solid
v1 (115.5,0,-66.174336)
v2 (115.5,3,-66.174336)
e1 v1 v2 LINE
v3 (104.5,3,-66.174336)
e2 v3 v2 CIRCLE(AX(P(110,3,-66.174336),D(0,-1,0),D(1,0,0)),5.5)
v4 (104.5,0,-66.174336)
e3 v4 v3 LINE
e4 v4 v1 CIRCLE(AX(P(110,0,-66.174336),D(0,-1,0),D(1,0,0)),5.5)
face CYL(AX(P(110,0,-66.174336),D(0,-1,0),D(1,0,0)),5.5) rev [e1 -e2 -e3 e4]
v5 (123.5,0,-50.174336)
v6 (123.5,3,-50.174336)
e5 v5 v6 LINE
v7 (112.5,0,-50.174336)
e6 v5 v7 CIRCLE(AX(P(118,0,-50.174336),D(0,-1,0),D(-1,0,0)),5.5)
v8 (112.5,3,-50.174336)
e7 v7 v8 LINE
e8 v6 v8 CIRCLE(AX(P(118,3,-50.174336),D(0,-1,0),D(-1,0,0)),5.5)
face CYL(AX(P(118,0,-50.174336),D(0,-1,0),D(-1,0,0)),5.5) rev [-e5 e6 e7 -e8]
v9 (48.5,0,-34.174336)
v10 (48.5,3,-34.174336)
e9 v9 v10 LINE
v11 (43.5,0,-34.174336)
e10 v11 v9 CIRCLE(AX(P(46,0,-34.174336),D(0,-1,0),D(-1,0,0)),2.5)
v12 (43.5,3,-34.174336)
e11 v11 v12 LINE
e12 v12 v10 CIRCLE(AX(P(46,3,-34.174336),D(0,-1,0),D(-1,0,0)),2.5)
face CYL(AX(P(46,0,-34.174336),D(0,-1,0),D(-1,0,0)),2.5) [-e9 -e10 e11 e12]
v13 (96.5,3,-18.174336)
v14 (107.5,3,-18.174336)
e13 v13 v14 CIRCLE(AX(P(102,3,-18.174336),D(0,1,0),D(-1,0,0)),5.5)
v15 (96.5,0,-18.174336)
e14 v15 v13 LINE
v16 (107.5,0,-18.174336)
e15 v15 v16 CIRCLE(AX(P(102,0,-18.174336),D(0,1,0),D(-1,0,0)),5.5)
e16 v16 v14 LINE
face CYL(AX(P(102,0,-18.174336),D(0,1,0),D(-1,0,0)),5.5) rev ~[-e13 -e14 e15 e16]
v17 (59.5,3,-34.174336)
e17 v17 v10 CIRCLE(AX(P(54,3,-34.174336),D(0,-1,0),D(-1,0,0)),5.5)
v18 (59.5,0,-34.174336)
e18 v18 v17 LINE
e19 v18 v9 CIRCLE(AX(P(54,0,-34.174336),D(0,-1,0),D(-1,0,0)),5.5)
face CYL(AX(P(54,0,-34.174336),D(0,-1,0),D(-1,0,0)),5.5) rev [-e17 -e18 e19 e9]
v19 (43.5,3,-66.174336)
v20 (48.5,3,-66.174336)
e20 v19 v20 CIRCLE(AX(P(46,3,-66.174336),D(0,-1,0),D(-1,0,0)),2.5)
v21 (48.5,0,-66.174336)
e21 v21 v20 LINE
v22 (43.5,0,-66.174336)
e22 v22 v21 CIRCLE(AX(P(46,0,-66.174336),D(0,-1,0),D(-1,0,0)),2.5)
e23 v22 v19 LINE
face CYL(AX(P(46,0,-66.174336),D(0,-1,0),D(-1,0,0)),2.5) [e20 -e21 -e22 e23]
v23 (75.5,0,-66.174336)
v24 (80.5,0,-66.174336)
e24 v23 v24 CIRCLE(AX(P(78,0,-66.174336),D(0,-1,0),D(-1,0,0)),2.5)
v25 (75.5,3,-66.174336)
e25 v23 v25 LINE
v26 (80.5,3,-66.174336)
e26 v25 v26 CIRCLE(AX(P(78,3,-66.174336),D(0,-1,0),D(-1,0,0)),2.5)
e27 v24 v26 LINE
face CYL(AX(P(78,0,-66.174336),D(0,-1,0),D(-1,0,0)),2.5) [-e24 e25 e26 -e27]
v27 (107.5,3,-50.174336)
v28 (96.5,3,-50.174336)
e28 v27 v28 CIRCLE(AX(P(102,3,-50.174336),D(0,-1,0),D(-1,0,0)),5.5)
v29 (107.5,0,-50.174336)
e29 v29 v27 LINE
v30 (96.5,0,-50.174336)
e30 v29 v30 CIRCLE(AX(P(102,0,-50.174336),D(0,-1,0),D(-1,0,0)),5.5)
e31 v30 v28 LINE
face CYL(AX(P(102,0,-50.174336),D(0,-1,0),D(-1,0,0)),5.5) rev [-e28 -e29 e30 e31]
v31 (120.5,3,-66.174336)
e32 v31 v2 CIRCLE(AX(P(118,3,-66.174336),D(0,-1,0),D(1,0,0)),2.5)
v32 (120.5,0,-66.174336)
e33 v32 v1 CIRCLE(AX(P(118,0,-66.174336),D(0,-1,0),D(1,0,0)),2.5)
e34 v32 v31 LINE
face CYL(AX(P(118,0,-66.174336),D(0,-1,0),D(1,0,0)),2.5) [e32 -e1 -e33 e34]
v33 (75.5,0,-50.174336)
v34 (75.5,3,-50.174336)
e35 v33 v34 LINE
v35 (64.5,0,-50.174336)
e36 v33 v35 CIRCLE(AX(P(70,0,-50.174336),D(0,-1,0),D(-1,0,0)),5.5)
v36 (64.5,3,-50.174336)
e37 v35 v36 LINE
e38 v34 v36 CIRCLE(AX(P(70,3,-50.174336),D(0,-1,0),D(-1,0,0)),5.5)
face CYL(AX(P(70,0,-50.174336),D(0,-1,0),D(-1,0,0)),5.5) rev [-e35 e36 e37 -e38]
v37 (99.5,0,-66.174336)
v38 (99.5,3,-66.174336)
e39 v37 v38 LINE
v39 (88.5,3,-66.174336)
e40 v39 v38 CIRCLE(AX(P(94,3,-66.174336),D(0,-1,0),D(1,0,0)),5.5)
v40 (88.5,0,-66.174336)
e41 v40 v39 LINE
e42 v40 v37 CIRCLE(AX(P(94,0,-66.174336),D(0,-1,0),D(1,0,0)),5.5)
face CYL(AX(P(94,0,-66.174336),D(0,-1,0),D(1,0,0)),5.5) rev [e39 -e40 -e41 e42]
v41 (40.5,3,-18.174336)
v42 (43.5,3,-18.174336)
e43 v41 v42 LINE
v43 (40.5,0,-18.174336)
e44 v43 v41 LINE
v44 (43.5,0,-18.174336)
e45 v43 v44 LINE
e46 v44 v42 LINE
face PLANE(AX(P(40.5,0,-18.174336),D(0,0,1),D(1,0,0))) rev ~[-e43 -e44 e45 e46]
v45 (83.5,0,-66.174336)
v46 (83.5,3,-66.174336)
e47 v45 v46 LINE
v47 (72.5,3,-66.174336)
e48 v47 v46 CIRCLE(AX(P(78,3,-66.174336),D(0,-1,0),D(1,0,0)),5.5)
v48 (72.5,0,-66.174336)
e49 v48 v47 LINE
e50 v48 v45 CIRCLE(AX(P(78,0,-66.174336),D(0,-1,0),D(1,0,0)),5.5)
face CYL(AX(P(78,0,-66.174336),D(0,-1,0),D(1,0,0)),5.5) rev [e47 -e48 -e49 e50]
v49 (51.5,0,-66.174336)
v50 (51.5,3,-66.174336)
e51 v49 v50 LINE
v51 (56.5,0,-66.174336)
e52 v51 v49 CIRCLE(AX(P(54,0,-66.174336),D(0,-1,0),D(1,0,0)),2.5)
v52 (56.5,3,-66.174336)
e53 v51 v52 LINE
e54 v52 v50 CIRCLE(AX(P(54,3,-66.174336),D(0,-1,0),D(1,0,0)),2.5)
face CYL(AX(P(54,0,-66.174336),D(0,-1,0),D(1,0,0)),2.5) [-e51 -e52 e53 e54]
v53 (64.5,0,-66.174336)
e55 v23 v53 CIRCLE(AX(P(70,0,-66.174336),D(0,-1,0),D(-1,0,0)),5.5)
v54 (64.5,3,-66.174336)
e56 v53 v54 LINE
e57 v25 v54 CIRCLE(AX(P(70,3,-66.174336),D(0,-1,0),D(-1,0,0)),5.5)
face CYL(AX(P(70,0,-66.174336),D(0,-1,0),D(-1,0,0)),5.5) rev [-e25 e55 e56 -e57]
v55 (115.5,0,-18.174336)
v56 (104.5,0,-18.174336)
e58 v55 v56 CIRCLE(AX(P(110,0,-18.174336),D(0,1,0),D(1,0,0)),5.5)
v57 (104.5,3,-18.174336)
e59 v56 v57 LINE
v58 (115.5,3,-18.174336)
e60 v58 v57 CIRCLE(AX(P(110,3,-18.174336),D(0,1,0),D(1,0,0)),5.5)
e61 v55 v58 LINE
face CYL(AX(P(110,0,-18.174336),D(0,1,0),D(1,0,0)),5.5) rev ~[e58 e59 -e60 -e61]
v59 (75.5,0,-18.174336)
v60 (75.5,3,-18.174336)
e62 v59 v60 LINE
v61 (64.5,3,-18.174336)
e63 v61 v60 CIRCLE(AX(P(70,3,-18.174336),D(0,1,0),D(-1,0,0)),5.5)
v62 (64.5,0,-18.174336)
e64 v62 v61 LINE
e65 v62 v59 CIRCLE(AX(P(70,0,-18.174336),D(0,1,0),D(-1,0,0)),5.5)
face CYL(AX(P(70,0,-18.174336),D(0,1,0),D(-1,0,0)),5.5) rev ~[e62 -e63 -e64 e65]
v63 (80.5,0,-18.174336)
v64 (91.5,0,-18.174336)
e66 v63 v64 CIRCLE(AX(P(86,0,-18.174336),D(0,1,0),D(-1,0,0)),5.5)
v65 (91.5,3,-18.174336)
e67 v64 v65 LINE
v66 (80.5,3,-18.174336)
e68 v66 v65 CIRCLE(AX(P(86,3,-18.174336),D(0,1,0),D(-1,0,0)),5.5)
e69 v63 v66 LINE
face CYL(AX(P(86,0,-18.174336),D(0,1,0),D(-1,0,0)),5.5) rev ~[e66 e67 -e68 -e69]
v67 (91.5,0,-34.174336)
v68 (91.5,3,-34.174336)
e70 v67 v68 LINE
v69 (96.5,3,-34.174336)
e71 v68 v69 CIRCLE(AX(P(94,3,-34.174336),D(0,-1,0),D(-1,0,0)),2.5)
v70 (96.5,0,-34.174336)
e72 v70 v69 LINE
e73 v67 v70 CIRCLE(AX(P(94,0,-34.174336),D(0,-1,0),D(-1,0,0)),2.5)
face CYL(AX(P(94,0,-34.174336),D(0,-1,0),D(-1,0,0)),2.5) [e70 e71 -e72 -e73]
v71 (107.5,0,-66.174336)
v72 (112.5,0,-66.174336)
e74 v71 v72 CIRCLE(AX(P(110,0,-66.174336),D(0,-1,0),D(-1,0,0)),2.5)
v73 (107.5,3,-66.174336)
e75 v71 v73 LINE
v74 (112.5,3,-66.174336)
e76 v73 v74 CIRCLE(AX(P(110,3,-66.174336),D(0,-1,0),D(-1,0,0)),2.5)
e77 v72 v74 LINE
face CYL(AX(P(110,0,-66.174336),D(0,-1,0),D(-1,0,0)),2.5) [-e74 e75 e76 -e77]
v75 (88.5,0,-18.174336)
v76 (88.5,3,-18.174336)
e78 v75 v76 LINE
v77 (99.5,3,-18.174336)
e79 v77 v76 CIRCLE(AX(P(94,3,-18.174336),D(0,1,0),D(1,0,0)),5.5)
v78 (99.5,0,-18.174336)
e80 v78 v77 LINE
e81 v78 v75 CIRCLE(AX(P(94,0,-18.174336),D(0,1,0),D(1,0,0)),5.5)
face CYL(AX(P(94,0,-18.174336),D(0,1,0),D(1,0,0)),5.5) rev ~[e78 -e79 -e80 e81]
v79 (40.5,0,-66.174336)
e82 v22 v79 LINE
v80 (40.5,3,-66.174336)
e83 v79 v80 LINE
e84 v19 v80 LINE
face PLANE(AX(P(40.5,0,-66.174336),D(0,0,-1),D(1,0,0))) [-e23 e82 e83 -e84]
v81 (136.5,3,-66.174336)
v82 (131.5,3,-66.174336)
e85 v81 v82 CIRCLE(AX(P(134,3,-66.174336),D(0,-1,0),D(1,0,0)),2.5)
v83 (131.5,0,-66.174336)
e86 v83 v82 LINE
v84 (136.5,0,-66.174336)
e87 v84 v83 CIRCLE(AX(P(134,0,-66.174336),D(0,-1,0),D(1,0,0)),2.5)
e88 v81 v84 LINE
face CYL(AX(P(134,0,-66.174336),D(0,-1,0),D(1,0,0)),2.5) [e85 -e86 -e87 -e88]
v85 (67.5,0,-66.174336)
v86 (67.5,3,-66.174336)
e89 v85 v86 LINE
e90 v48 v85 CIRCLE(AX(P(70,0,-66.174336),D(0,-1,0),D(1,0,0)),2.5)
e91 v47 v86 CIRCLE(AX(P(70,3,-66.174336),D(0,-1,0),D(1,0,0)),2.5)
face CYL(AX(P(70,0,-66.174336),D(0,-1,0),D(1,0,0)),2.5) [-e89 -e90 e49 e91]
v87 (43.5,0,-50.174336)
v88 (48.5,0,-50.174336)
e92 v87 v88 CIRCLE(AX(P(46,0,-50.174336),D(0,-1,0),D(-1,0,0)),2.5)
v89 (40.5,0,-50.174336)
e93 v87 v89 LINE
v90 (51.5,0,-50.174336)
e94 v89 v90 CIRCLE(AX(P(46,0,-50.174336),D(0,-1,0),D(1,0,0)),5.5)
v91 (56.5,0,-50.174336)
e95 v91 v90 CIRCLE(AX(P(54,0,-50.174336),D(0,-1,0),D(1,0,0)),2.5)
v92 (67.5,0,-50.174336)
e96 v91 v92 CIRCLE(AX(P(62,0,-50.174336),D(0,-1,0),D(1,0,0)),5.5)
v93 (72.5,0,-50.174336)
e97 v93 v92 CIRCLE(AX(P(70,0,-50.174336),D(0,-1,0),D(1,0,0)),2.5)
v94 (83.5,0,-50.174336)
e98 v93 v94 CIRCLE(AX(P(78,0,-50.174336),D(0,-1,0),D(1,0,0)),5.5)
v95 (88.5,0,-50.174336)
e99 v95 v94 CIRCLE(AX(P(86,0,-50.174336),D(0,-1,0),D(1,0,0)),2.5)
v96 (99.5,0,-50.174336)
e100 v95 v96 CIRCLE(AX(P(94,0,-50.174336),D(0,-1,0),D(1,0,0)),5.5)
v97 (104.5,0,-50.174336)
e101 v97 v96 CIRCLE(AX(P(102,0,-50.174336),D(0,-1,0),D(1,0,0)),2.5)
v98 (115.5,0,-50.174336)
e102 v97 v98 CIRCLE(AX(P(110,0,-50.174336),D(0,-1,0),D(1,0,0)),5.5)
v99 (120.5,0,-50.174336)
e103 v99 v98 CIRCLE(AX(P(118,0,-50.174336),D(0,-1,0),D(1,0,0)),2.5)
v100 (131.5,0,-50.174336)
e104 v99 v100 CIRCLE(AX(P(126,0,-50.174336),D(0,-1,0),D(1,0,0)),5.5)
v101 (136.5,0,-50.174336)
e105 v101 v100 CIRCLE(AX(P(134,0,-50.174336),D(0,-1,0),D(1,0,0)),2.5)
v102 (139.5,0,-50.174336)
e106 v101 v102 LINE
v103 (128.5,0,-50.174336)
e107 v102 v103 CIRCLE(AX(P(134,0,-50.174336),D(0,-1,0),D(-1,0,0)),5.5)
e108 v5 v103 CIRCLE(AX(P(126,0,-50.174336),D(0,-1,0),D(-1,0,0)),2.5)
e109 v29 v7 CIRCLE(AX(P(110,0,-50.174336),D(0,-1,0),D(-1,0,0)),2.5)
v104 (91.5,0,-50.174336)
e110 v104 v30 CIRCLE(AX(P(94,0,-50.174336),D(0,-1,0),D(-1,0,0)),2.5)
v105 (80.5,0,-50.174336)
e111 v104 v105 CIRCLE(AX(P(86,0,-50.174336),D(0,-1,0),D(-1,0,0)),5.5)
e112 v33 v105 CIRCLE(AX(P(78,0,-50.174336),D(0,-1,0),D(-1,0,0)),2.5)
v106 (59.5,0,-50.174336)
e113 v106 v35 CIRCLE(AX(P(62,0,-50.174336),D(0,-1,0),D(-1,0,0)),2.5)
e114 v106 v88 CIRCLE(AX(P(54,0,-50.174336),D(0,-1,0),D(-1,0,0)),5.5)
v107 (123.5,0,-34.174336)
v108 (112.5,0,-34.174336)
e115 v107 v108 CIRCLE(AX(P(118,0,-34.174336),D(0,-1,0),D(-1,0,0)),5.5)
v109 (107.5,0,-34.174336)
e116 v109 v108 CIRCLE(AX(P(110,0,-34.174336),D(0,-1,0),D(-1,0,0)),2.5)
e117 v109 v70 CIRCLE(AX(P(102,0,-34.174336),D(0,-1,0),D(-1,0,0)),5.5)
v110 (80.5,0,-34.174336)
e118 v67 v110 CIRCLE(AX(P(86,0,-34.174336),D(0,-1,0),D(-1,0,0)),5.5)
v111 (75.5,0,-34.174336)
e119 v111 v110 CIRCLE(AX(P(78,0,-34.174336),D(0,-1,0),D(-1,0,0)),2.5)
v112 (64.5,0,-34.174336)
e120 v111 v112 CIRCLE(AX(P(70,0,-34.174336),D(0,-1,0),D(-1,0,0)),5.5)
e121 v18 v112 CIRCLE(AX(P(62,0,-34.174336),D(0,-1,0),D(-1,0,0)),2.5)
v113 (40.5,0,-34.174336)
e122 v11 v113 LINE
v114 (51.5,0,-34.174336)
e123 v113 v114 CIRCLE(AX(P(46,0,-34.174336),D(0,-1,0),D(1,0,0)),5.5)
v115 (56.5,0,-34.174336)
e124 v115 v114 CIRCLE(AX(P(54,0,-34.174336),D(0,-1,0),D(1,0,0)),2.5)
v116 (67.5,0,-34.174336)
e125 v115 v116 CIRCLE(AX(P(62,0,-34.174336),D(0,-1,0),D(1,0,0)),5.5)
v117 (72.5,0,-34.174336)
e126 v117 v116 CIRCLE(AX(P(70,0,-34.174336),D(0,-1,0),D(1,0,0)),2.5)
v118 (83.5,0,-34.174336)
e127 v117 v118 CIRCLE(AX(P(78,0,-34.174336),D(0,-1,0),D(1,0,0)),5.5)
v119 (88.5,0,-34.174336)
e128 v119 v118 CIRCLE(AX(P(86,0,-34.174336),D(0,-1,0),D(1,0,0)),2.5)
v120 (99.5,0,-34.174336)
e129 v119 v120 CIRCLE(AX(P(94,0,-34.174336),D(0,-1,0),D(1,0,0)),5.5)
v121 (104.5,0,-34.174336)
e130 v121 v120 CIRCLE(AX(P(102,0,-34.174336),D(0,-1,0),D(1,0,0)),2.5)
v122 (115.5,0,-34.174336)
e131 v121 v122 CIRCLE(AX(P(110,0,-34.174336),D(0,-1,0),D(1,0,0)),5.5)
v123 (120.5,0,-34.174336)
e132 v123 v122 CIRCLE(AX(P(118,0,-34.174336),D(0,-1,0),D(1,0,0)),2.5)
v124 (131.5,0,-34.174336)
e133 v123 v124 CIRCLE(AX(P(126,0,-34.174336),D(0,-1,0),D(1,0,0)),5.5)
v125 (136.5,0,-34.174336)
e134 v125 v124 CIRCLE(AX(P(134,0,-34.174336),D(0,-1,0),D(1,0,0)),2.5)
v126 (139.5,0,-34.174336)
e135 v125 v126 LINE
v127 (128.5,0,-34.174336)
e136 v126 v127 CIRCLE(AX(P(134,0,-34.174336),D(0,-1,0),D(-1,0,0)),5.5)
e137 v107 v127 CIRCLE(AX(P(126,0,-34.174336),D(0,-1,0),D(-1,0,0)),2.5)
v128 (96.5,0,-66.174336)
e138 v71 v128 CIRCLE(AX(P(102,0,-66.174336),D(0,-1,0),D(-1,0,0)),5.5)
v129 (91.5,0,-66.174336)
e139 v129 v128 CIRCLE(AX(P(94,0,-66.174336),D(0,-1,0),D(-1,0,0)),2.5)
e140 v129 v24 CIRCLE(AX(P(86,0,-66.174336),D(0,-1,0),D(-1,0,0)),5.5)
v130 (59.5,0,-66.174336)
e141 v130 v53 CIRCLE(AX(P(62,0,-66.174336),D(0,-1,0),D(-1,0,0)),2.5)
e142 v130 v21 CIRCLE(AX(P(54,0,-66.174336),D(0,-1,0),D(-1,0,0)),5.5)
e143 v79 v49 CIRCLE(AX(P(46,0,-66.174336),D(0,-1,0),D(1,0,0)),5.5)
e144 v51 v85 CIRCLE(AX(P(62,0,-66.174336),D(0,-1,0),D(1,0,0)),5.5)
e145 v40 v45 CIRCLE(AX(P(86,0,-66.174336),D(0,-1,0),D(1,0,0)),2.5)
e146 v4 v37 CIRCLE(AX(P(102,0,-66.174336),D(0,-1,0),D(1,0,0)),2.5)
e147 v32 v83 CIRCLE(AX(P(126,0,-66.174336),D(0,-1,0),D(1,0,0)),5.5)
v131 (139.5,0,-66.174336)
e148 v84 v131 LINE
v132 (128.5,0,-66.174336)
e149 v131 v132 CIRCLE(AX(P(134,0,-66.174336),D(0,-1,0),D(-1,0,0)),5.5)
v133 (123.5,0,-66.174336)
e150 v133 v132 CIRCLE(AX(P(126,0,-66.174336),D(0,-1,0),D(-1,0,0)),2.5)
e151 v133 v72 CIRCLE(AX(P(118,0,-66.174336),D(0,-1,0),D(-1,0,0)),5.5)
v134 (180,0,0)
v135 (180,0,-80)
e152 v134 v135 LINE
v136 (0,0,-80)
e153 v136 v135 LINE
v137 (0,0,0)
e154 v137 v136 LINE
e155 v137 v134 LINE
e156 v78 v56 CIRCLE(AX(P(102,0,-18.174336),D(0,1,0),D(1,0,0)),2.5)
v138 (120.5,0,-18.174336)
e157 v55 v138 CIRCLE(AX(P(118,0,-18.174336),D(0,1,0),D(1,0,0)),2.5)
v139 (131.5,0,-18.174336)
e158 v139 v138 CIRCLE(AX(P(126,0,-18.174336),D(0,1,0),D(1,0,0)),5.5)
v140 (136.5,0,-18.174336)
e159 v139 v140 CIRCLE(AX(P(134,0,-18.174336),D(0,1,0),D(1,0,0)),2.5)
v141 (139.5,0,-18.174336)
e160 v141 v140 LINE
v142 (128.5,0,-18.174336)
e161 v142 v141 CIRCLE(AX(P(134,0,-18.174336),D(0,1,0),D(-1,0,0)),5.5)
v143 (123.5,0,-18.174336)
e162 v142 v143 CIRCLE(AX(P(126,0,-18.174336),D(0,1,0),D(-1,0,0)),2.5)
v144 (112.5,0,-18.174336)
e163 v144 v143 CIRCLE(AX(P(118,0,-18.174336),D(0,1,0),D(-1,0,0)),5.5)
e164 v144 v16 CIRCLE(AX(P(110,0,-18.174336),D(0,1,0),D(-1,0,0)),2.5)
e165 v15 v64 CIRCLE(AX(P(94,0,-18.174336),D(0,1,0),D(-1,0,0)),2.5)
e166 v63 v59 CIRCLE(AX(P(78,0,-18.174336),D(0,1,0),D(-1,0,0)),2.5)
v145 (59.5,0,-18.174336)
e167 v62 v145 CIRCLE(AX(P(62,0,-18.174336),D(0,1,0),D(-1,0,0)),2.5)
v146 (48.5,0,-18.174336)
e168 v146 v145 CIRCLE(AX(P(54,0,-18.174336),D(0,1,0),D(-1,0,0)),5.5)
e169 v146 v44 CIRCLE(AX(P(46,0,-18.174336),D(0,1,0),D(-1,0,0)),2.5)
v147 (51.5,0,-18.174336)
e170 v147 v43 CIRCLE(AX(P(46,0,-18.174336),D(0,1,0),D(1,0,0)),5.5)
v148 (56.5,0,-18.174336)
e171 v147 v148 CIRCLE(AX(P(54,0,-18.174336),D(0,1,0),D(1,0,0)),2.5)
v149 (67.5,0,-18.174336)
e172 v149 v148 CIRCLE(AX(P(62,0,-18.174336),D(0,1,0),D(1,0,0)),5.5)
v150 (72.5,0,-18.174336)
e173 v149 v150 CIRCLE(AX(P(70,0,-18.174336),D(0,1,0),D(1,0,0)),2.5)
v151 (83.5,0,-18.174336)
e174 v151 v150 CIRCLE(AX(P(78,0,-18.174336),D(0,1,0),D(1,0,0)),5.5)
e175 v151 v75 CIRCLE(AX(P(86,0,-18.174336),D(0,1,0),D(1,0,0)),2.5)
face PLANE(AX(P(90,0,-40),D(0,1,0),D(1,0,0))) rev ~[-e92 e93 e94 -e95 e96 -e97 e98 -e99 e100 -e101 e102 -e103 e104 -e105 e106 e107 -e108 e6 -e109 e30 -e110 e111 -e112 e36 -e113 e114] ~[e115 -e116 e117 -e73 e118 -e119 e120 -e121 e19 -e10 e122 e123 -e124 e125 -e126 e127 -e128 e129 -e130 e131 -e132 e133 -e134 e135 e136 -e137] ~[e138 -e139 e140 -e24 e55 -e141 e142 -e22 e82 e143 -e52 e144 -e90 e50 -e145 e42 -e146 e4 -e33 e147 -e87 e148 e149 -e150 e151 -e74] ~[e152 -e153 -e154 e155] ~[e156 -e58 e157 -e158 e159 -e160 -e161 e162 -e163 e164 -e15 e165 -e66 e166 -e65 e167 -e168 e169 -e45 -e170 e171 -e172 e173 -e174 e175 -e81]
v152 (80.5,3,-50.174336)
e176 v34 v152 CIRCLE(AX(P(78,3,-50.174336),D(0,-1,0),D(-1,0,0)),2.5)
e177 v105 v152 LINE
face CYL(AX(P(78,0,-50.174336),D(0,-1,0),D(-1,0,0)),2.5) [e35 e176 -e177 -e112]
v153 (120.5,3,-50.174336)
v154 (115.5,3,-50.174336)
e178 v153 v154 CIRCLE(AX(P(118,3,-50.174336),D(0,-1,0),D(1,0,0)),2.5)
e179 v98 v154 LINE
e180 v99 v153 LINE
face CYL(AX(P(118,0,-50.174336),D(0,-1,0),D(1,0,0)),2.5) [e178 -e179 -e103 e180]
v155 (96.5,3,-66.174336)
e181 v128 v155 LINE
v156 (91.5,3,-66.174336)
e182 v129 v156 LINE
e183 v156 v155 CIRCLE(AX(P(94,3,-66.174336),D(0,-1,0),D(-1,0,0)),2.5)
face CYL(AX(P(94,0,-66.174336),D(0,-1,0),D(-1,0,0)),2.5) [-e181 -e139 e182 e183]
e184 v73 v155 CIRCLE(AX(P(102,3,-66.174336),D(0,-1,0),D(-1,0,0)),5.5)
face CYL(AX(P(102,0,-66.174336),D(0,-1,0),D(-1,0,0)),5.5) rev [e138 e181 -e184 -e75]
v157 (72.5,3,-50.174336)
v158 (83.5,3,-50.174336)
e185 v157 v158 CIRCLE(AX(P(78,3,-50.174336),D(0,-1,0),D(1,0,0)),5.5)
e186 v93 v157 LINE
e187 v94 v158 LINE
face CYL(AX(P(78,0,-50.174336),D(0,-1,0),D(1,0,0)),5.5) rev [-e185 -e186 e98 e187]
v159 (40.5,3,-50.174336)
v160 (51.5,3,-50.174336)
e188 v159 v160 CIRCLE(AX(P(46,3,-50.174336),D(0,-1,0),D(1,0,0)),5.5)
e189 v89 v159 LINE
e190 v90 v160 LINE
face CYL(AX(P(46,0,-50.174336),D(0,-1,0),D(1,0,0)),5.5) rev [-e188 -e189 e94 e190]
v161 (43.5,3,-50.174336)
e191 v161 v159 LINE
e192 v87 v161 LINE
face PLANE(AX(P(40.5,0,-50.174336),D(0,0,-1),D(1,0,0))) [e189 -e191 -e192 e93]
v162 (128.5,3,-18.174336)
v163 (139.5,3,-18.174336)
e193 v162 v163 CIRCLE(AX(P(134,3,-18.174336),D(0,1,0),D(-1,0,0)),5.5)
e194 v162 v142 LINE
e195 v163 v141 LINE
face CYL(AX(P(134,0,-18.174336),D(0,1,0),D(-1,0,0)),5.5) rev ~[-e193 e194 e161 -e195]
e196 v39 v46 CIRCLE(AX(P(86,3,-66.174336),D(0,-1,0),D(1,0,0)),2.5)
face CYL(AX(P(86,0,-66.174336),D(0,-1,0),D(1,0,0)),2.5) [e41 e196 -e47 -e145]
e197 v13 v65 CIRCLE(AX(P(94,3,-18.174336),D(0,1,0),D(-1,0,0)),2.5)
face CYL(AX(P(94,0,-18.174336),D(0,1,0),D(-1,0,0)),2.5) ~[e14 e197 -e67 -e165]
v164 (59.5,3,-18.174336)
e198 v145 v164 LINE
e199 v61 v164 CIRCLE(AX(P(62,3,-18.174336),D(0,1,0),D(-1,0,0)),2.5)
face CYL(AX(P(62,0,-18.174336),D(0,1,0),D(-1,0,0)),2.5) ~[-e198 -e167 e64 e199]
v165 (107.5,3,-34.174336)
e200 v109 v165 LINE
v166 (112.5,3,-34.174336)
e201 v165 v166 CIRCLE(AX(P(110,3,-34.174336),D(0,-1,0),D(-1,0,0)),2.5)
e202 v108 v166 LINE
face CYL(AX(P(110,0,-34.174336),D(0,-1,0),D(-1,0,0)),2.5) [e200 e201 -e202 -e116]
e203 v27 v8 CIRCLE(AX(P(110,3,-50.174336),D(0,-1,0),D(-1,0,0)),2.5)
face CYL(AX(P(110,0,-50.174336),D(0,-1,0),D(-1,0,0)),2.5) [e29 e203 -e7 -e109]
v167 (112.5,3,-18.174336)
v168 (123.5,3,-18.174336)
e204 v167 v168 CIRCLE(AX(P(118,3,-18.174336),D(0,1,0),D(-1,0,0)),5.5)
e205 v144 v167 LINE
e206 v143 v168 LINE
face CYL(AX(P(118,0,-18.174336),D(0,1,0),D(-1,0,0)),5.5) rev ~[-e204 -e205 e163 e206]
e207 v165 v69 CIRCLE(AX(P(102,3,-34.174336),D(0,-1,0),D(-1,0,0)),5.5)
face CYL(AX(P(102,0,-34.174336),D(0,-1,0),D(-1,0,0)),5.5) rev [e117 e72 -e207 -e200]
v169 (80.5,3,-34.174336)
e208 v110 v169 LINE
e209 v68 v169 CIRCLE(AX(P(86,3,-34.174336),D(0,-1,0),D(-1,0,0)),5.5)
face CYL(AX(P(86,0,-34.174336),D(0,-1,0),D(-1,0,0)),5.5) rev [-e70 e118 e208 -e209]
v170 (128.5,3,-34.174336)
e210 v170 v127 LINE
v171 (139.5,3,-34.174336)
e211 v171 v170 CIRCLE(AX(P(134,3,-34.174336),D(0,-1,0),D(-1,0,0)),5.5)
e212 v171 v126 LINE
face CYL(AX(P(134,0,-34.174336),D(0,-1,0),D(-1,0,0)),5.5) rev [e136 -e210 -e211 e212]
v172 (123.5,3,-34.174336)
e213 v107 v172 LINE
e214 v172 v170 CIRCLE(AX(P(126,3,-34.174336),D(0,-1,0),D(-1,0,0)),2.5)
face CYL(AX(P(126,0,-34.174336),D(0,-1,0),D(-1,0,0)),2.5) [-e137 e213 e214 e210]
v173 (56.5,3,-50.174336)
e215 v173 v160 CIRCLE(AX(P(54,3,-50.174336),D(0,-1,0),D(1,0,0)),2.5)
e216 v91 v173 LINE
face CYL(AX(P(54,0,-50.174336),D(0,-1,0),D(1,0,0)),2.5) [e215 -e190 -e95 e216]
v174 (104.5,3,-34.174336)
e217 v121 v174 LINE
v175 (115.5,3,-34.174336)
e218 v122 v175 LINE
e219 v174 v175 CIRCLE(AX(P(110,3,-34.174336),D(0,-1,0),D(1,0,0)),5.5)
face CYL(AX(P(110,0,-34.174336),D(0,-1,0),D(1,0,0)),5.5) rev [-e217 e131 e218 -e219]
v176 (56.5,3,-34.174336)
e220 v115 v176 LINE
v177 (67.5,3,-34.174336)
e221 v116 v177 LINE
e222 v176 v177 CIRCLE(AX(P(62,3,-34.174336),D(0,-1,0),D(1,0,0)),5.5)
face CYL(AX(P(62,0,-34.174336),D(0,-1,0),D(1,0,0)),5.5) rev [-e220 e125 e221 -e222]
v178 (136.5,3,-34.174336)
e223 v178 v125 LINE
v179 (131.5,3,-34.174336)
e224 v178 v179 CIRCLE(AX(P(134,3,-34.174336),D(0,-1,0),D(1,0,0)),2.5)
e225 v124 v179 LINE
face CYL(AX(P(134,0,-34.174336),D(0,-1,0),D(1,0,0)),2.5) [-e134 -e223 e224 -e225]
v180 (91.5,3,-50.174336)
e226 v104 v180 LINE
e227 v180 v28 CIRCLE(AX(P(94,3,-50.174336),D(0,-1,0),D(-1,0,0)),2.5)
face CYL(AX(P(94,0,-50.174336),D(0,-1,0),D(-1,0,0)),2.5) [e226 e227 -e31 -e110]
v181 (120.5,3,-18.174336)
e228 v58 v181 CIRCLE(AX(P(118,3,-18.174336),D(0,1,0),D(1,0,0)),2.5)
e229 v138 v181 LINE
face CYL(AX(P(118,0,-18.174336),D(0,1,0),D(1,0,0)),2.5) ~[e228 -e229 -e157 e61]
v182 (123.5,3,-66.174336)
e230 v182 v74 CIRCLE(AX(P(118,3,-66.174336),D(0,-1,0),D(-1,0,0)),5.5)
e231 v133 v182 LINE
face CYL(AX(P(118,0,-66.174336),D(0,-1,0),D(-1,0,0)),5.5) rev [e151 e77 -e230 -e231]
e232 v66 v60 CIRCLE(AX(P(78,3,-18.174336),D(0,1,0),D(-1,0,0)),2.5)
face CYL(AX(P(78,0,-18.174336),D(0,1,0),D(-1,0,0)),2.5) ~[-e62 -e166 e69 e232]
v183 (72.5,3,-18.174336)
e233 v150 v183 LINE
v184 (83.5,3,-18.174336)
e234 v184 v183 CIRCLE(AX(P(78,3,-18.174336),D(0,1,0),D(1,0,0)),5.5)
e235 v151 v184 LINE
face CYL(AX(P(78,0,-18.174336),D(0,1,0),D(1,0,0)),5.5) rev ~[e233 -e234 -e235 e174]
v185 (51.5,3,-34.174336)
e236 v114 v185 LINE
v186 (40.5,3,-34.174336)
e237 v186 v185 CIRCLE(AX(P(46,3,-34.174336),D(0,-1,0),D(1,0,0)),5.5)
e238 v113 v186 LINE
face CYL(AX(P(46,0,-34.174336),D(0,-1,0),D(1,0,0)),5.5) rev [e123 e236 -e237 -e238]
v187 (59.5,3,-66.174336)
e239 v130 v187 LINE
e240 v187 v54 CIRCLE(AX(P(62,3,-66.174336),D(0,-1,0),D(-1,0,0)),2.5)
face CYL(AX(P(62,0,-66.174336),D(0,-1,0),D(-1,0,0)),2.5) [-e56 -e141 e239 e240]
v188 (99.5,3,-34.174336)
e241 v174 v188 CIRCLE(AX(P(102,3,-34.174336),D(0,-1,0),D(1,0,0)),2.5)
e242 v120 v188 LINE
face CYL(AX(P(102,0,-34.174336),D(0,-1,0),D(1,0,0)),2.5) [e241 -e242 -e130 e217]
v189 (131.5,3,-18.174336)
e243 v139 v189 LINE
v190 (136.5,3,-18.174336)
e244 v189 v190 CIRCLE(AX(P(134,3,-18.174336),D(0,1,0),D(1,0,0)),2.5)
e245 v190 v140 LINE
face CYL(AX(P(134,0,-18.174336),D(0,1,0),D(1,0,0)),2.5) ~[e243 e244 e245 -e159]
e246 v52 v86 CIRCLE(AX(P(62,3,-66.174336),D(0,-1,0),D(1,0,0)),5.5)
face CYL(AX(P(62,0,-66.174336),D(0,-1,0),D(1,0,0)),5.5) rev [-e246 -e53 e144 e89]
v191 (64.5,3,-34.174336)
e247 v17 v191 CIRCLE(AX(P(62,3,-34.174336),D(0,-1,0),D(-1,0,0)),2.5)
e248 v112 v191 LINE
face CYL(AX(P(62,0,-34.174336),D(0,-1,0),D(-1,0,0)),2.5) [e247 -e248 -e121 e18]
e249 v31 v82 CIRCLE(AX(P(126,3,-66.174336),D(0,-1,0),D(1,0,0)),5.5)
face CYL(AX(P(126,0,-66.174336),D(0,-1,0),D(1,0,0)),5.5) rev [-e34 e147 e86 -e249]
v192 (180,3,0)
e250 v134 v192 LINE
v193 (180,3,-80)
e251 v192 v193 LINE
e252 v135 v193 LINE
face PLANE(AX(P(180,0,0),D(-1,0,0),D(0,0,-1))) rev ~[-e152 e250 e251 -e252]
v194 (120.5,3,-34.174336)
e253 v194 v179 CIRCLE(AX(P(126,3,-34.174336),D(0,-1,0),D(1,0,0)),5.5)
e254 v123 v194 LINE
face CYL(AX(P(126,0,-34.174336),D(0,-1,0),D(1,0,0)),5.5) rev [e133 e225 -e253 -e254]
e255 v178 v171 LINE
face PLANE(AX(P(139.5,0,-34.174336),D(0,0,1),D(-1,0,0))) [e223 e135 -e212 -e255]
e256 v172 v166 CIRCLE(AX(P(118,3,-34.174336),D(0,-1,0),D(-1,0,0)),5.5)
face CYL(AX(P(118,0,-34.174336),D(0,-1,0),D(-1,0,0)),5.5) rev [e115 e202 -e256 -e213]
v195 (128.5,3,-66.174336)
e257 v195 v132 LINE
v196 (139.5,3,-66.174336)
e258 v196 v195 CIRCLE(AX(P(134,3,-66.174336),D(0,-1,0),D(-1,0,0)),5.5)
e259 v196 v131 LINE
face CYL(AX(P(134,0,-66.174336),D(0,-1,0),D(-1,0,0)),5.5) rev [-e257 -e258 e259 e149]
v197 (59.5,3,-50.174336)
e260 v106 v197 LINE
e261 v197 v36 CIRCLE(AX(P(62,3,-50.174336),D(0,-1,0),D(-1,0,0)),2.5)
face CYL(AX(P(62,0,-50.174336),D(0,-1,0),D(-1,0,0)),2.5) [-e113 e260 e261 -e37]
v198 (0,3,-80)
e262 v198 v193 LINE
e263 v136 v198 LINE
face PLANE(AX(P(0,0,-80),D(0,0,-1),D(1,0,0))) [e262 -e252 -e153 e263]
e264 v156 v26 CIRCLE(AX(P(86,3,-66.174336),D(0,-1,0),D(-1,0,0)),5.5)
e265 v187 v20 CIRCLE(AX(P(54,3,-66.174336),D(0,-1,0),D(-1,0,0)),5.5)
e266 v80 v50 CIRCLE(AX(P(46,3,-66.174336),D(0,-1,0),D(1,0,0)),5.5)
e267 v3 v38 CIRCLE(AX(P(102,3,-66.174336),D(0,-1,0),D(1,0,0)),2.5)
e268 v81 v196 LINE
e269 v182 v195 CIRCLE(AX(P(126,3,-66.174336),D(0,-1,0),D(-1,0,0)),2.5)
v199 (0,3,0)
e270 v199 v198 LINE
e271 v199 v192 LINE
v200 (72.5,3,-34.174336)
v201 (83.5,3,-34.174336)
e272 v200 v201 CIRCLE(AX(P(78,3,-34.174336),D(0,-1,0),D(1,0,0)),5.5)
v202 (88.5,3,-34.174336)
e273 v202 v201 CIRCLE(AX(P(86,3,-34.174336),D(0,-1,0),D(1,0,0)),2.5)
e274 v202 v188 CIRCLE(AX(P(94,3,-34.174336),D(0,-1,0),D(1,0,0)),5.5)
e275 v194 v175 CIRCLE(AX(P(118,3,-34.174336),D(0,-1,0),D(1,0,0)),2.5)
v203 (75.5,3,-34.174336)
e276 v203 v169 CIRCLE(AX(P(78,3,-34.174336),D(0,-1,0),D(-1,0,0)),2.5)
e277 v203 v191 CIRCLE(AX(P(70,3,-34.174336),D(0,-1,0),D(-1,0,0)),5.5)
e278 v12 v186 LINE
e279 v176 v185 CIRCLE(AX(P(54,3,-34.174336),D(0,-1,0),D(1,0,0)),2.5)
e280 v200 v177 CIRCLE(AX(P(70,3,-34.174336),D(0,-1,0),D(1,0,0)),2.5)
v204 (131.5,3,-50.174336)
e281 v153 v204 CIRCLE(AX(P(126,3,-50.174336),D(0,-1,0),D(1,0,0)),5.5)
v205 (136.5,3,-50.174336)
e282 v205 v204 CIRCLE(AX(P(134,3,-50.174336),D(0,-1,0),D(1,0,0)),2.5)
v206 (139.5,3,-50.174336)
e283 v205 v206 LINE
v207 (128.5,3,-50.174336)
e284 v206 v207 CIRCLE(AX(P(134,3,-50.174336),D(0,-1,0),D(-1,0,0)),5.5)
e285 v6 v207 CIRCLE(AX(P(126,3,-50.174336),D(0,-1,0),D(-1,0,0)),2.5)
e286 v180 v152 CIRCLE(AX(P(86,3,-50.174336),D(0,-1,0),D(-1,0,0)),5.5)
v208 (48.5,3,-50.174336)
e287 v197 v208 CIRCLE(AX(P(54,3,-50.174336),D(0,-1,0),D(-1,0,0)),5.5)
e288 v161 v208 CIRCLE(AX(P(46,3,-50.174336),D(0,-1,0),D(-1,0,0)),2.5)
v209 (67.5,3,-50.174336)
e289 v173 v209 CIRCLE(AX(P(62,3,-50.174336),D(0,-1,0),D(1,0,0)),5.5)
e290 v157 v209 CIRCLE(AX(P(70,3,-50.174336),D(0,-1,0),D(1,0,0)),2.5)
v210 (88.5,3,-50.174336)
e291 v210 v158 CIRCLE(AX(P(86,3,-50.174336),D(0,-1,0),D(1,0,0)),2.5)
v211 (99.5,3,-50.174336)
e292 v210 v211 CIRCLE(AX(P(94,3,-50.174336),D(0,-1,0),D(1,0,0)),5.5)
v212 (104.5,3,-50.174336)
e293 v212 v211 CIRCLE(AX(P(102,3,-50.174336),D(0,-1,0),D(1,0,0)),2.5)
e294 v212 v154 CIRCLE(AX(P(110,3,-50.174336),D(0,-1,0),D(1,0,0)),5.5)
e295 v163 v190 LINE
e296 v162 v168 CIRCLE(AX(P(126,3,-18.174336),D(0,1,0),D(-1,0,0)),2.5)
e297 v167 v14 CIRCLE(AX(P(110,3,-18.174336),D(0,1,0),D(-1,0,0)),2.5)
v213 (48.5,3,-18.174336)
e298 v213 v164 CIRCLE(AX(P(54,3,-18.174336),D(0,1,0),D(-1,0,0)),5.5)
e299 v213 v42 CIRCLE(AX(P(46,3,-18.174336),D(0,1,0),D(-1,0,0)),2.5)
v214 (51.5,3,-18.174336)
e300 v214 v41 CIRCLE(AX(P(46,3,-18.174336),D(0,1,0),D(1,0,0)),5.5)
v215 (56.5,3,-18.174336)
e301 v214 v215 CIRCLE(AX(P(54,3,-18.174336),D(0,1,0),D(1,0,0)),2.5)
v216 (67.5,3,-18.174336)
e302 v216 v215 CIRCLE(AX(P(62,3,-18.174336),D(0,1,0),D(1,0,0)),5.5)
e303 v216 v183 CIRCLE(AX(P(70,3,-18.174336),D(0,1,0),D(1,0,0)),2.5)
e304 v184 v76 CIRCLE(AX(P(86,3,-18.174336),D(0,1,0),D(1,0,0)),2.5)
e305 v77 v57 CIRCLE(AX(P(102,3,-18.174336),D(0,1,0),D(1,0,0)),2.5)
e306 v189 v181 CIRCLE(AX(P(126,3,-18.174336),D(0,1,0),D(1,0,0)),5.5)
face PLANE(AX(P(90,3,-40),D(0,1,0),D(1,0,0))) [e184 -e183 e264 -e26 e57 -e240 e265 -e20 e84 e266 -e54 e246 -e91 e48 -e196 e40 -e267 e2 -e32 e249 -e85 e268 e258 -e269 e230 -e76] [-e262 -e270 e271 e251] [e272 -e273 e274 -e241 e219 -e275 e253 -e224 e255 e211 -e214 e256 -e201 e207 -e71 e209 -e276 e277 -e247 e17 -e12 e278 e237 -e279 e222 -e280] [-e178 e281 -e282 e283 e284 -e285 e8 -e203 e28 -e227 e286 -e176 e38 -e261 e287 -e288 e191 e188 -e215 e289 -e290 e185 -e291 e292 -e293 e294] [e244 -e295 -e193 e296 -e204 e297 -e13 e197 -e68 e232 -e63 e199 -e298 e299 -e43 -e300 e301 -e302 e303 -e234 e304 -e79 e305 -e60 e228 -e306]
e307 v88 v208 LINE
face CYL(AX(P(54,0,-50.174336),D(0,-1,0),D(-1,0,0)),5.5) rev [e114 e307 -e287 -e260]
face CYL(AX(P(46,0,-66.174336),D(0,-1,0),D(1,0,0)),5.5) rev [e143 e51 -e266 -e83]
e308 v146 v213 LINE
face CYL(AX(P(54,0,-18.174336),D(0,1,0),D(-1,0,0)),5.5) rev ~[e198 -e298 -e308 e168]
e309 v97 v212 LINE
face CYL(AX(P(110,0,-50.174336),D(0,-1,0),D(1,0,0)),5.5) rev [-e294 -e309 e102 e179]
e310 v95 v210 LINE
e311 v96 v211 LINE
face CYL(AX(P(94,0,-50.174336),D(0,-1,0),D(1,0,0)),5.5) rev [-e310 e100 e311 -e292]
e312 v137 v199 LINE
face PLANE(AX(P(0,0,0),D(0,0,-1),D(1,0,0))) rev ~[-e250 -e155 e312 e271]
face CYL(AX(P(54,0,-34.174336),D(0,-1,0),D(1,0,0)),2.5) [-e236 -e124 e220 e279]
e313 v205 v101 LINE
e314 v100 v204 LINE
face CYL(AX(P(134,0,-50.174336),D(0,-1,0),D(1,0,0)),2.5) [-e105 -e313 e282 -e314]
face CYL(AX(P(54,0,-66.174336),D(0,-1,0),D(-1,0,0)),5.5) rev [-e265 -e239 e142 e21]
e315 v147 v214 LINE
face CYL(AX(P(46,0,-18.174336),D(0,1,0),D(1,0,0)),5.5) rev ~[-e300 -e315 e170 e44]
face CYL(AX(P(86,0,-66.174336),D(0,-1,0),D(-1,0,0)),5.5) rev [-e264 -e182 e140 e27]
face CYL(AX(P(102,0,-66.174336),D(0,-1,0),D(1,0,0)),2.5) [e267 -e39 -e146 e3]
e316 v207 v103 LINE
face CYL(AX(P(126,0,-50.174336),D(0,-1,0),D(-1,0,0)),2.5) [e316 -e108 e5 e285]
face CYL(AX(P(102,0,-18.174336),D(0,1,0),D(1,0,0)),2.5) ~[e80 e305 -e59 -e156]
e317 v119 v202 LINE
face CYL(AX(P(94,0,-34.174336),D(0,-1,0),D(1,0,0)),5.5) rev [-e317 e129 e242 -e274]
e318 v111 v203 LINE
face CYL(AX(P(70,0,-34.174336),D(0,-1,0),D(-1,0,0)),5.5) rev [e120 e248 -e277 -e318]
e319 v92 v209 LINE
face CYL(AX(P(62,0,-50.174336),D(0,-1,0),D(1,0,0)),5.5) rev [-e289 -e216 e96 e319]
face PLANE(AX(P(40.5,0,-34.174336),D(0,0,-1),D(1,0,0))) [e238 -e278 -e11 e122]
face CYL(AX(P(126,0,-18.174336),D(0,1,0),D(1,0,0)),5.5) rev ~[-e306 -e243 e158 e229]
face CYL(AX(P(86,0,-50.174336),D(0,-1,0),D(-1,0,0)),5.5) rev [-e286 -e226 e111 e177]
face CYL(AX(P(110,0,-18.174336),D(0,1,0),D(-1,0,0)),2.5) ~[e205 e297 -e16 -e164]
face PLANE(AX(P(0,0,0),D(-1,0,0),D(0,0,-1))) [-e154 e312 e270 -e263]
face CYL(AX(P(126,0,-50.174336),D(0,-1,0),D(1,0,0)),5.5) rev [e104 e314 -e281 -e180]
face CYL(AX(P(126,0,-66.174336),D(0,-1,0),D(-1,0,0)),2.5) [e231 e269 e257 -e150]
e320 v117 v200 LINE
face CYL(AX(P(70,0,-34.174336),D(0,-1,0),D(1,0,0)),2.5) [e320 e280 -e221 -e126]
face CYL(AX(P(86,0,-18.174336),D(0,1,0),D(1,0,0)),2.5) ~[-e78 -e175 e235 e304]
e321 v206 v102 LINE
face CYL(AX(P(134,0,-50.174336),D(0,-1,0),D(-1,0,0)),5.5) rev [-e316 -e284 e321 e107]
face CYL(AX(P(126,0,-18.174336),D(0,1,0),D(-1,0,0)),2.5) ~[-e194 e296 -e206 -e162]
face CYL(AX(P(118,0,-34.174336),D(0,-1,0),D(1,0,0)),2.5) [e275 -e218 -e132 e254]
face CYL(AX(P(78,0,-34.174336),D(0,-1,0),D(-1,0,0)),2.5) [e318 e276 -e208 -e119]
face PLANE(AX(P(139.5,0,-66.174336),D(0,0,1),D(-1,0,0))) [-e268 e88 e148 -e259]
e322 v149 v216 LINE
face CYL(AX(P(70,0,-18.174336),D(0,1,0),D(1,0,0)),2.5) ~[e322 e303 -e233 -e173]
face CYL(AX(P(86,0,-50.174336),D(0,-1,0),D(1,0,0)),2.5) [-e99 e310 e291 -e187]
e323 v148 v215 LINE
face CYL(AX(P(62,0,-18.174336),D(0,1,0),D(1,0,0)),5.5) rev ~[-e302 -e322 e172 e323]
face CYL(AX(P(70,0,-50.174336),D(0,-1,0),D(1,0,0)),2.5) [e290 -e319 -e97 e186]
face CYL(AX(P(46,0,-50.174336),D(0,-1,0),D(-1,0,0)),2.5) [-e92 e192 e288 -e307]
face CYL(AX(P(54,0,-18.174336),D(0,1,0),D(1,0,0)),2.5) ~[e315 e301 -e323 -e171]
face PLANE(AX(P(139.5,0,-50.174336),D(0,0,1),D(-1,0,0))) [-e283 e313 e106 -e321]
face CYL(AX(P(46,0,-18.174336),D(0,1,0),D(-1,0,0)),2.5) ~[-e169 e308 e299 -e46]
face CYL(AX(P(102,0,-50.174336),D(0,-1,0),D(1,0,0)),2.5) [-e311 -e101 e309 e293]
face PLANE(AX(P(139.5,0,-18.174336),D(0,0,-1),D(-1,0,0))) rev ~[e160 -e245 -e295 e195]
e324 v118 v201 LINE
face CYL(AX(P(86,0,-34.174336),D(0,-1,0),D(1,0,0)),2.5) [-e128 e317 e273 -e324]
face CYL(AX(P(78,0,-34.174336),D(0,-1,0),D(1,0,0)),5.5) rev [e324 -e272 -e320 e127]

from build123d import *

# Parameters (mm, degrees)
SKETCH1_W               = 180
SKETCH1_H               = 80
BOSS_EXTRUDE1_DEPTH     = 3
CUT_EXTRUDE_THIN1_DEPTH = 5


with BuildPart() as part:
    # Sketch1 → Boss-Extrude1 (new body)
    with BuildSketch(Plane(origin=(0, 0, 0), x_dir=(1, 0, 0), z_dir=(0, 1, 0))):
        with Locations((90, 40)):
            Rectangle(SKETCH1_W, SKETCH1_H)
    extrude(amount=BOSS_EXTRUDE1_DEPTH)

    # Sketch1<3> → Cut-Extrude-Thin1 (cut, symmetric)
    with BuildSketch(Plane(origin=(0, 0, 0), x_dir=(1, 0, 0), z_dir=(0, 1, 0))):
        with BuildLine():
            ThreePointArc((136.5, 66.174335789), (134, 63.674335789), (131.5, 66.174335789))
            ThreePointArc((131.5, 66.174335789), (126, 71.674335789), (120.5, 66.174335789))
            ThreePointArc((120.5, 66.174335789), (118, 63.674335789), (115.5, 66.174335789))
            ThreePointArc((115.5, 66.174335789), (110, 71.674335789), (104.5, 66.174335789))
            ThreePointArc((104.5, 66.174335789), (102, 63.674335789), (99.5, 66.174335789))
            ThreePointArc((99.5, 66.174335789), (94, 71.674335789), (88.5, 66.174335789))
            ThreePointArc((88.5, 66.174335789), (86, 63.674335789), (83.5, 66.174335789))
            ThreePointArc((83.5, 66.174335789), (78, 71.674335789), (72.5, 66.174335789))
            ThreePointArc((72.5, 66.174335789), (70, 63.674335789), (67.5, 66.174335789))
            ThreePointArc((67.5, 66.174335789), (62, 71.674335789), (56.5, 66.174335789))
            ThreePointArc((56.5, 66.174335789), (54, 63.674335789), (51.5, 66.174335789))
            ThreePointArc((51.5, 66.174335789), (46, 71.674335789), (40.5, 66.174335789))
            Line((40.5, 66.174335789), (43.5, 66.174335789))
            ThreePointArc((43.5, 66.174335789), (46, 68.674335789), (48.5, 66.174335789))
            ThreePointArc((48.5, 66.174335789), (54, 60.674335789), (59.5, 66.174335789))
            ThreePointArc((59.5, 66.174335789), (62, 68.674335789), (64.5, 66.174335789))
            ThreePointArc((64.5, 66.174335789), (70, 60.674335789), (75.5, 66.174335789))
            ThreePointArc((75.5, 66.174335789), (78, 68.674335789), (80.5, 66.174335789))
            ThreePointArc((80.5, 66.174335789), (86, 60.674335789), (91.5, 66.174335789))
            ThreePointArc((91.5, 66.174335789), (94, 68.674335789), (96.5, 66.174335789))
            ThreePointArc((96.5, 66.174335789), (102, 60.674335789), (107.5, 66.174335789))
            ThreePointArc((107.5, 66.174335789), (110, 68.674335789), (112.5, 66.174335789))
            ThreePointArc((112.5, 66.174335789), (118, 60.674335789), (123.5, 66.174335789))
            ThreePointArc((123.5, 66.174335789), (126, 68.674335789), (128.5, 66.174335789))
            ThreePointArc((128.5, 66.174335789), (134, 60.674335789), (139.5, 66.174335789))
            Line((139.5, 66.174335789), (136.5, 66.174335789))
        make_face()
        with BuildLine():
            ThreePointArc((136.5, 50.174335789), (134, 47.674335789), (131.5, 50.174335789))
            ThreePointArc((131.5, 50.174335789), (126, 55.674335789), (120.5, 50.174335789))
            ThreePointArc((120.5, 50.174335789), (118, 47.674335789), (115.5, 50.174335789))
            ThreePointArc((115.5, 50.174335789), (110, 55.674335789), (104.5, 50.174335789))
            ThreePointArc((104.5, 50.174335789), (102, 47.674335789), (99.5, 50.174335789))
            ThreePointArc((99.5, 50.174335789), (94, 55.674335789), (88.5, 50.174335789))
            ThreePointArc((88.5, 50.174335789), (86, 47.674335789), (83.5, 50.174335789))
            ThreePointArc((83.5, 50.174335789), (78, 55.674335789), (72.5, 50.174335789))
            ThreePointArc((72.5, 50.174335789), (70, 47.674335789), (67.5, 50.174335789))
            ThreePointArc((67.5, 50.174335789), (62, 55.674335789), (56.5, 50.174335789))
            ThreePointArc((56.5, 50.174335789), (54, 47.674335789), (51.5, 50.174335789))
            ThreePointArc((51.5, 50.174335789), (46, 55.674335789), (40.5, 50.174335789))
            Line((40.5, 50.174335789), (43.5, 50.174335789))
            ThreePointArc((43.5, 50.174335789), (46, 52.674335789), (48.5, 50.174335789))
            ThreePointArc((48.5, 50.174335789), (54, 44.674335789), (59.5, 50.174335789))
            ThreePointArc((59.5, 50.174335789), (62, 52.674335789), (64.5, 50.174335789))
            ThreePointArc((64.5, 50.174335789), (70, 44.674335789), (75.5, 50.174335789))
            ThreePointArc((75.5, 50.174335789), (78, 52.674335789), (80.5, 50.174335789))
            ThreePointArc((80.5, 50.174335789), (86, 44.674335789), (91.5, 50.174335789))
            ThreePointArc((91.5, 50.174335789), (94, 52.674335789), (96.5, 50.174335789))
            ThreePointArc((96.5, 50.174335789), (102, 44.674335789), (107.5, 50.174335789))
            ThreePointArc((107.5, 50.174335789), (110, 52.674335789), (112.5, 50.174335789))
            ThreePointArc((112.5, 50.174335789), (118, 44.674335789), (123.5, 50.174335789))
            ThreePointArc((123.5, 50.174335789), (126, 52.674335789), (128.5, 50.174335789))
            ThreePointArc((128.5, 50.174335789), (134, 44.674335789), (139.5, 50.174335789))
            Line((139.5, 50.174335789), (136.5, 50.174335789))
        make_face()
        with BuildLine():
            ThreePointArc((136.5, 34.174335789), (134, 31.674335789), (131.5, 34.174335789))
            ThreePointArc((131.5, 34.174335789), (126, 39.674335789), (120.5, 34.174335789))
            ThreePointArc((120.5, 34.174335789), (118, 31.674335789), (115.5, 34.174335789))
            ThreePointArc((115.5, 34.174335789), (110, 39.674335789), (104.5, 34.174335789))
            ThreePointArc((104.5, 34.174335789), (102, 31.674335789), (99.5, 34.174335789))
            ThreePointArc((99.5, 34.174335789), (94, 39.674335789), (88.5, 34.174335789))
            ThreePointArc((88.5, 34.174335789), (86, 31.674335789), (83.5, 34.174335789))
            ThreePointArc((83.5, 34.174335789), (78, 39.674335789), (72.5, 34.174335789))
            ThreePointArc((72.5, 34.174335789), (70, 31.674335789), (67.5, 34.174335789))
            ThreePointArc((67.5, 34.174335789), (62, 39.674335789), (56.5, 34.174335789))
            ThreePointArc((56.5, 34.174335789), (54, 31.674335789), (51.5, 34.174335789))
            ThreePointArc((51.5, 34.174335789), (46, 39.674335789), (40.5, 34.174335789))
            Line((40.5, 34.174335789), (43.5, 34.174335789))
            ThreePointArc((43.5, 34.174335789), (46, 36.674335789), (48.5, 34.174335789))
            ThreePointArc((48.5, 34.174335789), (54, 28.674335789), (59.5, 34.174335789))
            ThreePointArc((59.5, 34.174335789), (62, 36.674335789), (64.5, 34.174335789))
            ThreePointArc((64.5, 34.174335789), (70, 28.674335789), (75.5, 34.174335789))
            ThreePointArc((75.5, 34.174335789), (78, 36.674335789), (80.5, 34.174335789))
            ThreePointArc((80.5, 34.174335789), (86, 28.674335789), (91.5, 34.174335789))
            ThreePointArc((91.5, 34.174335789), (94, 36.674335789), (96.5, 34.174335789))
            ThreePointArc((96.5, 34.174335789), (102, 28.674335789), (107.5, 34.174335789))
            ThreePointArc((107.5, 34.174335789), (110, 36.674335789), (112.5, 34.174335789))
            ThreePointArc((112.5, 34.174335789), (118, 28.674335789), (123.5, 34.174335789))
            ThreePointArc((123.5, 34.174335789), (126, 36.674335789), (128.5, 34.174335789))
            ThreePointArc((128.5, 34.174335789), (134, 28.674335789), (139.5, 34.174335789))
            Line((139.5, 34.174335789), (136.5, 34.174335789))
        make_face()
        with BuildLine():
            ThreePointArc((136.5, 18.174335789), (134, 15.674335789), (131.5, 18.174335789))
            ThreePointArc((131.5, 18.174335789), (126, 23.674335789), (120.5, 18.174335789))
            ThreePointArc((120.5, 18.174335789), (118, 15.674335789), (115.5, 18.174335789))
            ThreePointArc((115.5, 18.174335789), (110, 23.674335789), (104.5, 18.174335789))
            ThreePointArc((104.5, 18.174335789), (102, 15.674335789), (99.5, 18.174335789))
            ThreePointArc((99.5, 18.174335789), (94, 23.674335789), (88.5, 18.174335789))
            ThreePointArc((88.5, 18.174335789), (86, 15.674335789), (83.5, 18.174335789))
            ThreePointArc((83.5, 18.174335789), (78, 23.674335789), (72.5, 18.174335789))
            ThreePointArc((72.5, 18.174335789), (70, 15.674335789), (67.5, 18.174335789))
            ThreePointArc((67.5, 18.174335789), (62, 23.674335789), (56.5, 18.174335789))
            ThreePointArc((56.5, 18.174335789), (54, 15.674335789), (51.5, 18.174335789))
            ThreePointArc((51.5, 18.174335789), (46, 23.674335789), (40.5, 18.174335789))
            Line((40.5, 18.174335789), (43.5, 18.174335789))
            ThreePointArc((43.5, 18.174335789), (46, 20.674335789), (48.5, 18.174335789))
            ThreePointArc((48.5, 18.174335789), (54, 12.674335789), (59.5, 18.174335789))
            ThreePointArc((59.5, 18.174335789), (62, 20.674335789), (64.5, 18.174335789))
            ThreePointArc((64.5, 18.174335789), (70, 12.674335789), (75.5, 18.174335789))
            ThreePointArc((75.5, 18.174335789), (78, 20.674335789), (80.5, 18.174335789))
            ThreePointArc((80.5, 18.174335789), (86, 12.674335789), (91.5, 18.174335789))
            ThreePointArc((91.5, 18.174335789), (94, 20.674335789), (96.5, 18.174335789))
            ThreePointArc((96.5, 18.174335789), (102, 12.674335789), (107.5, 18.174335789))
            ThreePointArc((107.5, 18.174335789), (110, 20.674335789), (112.5, 18.174335789))
            ThreePointArc((112.5, 18.174335789), (118, 12.674335789), (123.5, 18.174335789))
            ThreePointArc((123.5, 18.174335789), (126, 20.674335789), (128.5, 18.174335789))
            ThreePointArc((128.5, 18.174335789), (134, 12.674335789), (139.5, 18.174335789))
            Line((139.5, 18.174335789), (136.5, 18.174335789))
        make_face()
    extrude(amount=CUT_EXTRUDE_THIN1_DEPTH, both=True, mode=Mode.SUBTRACT)


solid = part.part
